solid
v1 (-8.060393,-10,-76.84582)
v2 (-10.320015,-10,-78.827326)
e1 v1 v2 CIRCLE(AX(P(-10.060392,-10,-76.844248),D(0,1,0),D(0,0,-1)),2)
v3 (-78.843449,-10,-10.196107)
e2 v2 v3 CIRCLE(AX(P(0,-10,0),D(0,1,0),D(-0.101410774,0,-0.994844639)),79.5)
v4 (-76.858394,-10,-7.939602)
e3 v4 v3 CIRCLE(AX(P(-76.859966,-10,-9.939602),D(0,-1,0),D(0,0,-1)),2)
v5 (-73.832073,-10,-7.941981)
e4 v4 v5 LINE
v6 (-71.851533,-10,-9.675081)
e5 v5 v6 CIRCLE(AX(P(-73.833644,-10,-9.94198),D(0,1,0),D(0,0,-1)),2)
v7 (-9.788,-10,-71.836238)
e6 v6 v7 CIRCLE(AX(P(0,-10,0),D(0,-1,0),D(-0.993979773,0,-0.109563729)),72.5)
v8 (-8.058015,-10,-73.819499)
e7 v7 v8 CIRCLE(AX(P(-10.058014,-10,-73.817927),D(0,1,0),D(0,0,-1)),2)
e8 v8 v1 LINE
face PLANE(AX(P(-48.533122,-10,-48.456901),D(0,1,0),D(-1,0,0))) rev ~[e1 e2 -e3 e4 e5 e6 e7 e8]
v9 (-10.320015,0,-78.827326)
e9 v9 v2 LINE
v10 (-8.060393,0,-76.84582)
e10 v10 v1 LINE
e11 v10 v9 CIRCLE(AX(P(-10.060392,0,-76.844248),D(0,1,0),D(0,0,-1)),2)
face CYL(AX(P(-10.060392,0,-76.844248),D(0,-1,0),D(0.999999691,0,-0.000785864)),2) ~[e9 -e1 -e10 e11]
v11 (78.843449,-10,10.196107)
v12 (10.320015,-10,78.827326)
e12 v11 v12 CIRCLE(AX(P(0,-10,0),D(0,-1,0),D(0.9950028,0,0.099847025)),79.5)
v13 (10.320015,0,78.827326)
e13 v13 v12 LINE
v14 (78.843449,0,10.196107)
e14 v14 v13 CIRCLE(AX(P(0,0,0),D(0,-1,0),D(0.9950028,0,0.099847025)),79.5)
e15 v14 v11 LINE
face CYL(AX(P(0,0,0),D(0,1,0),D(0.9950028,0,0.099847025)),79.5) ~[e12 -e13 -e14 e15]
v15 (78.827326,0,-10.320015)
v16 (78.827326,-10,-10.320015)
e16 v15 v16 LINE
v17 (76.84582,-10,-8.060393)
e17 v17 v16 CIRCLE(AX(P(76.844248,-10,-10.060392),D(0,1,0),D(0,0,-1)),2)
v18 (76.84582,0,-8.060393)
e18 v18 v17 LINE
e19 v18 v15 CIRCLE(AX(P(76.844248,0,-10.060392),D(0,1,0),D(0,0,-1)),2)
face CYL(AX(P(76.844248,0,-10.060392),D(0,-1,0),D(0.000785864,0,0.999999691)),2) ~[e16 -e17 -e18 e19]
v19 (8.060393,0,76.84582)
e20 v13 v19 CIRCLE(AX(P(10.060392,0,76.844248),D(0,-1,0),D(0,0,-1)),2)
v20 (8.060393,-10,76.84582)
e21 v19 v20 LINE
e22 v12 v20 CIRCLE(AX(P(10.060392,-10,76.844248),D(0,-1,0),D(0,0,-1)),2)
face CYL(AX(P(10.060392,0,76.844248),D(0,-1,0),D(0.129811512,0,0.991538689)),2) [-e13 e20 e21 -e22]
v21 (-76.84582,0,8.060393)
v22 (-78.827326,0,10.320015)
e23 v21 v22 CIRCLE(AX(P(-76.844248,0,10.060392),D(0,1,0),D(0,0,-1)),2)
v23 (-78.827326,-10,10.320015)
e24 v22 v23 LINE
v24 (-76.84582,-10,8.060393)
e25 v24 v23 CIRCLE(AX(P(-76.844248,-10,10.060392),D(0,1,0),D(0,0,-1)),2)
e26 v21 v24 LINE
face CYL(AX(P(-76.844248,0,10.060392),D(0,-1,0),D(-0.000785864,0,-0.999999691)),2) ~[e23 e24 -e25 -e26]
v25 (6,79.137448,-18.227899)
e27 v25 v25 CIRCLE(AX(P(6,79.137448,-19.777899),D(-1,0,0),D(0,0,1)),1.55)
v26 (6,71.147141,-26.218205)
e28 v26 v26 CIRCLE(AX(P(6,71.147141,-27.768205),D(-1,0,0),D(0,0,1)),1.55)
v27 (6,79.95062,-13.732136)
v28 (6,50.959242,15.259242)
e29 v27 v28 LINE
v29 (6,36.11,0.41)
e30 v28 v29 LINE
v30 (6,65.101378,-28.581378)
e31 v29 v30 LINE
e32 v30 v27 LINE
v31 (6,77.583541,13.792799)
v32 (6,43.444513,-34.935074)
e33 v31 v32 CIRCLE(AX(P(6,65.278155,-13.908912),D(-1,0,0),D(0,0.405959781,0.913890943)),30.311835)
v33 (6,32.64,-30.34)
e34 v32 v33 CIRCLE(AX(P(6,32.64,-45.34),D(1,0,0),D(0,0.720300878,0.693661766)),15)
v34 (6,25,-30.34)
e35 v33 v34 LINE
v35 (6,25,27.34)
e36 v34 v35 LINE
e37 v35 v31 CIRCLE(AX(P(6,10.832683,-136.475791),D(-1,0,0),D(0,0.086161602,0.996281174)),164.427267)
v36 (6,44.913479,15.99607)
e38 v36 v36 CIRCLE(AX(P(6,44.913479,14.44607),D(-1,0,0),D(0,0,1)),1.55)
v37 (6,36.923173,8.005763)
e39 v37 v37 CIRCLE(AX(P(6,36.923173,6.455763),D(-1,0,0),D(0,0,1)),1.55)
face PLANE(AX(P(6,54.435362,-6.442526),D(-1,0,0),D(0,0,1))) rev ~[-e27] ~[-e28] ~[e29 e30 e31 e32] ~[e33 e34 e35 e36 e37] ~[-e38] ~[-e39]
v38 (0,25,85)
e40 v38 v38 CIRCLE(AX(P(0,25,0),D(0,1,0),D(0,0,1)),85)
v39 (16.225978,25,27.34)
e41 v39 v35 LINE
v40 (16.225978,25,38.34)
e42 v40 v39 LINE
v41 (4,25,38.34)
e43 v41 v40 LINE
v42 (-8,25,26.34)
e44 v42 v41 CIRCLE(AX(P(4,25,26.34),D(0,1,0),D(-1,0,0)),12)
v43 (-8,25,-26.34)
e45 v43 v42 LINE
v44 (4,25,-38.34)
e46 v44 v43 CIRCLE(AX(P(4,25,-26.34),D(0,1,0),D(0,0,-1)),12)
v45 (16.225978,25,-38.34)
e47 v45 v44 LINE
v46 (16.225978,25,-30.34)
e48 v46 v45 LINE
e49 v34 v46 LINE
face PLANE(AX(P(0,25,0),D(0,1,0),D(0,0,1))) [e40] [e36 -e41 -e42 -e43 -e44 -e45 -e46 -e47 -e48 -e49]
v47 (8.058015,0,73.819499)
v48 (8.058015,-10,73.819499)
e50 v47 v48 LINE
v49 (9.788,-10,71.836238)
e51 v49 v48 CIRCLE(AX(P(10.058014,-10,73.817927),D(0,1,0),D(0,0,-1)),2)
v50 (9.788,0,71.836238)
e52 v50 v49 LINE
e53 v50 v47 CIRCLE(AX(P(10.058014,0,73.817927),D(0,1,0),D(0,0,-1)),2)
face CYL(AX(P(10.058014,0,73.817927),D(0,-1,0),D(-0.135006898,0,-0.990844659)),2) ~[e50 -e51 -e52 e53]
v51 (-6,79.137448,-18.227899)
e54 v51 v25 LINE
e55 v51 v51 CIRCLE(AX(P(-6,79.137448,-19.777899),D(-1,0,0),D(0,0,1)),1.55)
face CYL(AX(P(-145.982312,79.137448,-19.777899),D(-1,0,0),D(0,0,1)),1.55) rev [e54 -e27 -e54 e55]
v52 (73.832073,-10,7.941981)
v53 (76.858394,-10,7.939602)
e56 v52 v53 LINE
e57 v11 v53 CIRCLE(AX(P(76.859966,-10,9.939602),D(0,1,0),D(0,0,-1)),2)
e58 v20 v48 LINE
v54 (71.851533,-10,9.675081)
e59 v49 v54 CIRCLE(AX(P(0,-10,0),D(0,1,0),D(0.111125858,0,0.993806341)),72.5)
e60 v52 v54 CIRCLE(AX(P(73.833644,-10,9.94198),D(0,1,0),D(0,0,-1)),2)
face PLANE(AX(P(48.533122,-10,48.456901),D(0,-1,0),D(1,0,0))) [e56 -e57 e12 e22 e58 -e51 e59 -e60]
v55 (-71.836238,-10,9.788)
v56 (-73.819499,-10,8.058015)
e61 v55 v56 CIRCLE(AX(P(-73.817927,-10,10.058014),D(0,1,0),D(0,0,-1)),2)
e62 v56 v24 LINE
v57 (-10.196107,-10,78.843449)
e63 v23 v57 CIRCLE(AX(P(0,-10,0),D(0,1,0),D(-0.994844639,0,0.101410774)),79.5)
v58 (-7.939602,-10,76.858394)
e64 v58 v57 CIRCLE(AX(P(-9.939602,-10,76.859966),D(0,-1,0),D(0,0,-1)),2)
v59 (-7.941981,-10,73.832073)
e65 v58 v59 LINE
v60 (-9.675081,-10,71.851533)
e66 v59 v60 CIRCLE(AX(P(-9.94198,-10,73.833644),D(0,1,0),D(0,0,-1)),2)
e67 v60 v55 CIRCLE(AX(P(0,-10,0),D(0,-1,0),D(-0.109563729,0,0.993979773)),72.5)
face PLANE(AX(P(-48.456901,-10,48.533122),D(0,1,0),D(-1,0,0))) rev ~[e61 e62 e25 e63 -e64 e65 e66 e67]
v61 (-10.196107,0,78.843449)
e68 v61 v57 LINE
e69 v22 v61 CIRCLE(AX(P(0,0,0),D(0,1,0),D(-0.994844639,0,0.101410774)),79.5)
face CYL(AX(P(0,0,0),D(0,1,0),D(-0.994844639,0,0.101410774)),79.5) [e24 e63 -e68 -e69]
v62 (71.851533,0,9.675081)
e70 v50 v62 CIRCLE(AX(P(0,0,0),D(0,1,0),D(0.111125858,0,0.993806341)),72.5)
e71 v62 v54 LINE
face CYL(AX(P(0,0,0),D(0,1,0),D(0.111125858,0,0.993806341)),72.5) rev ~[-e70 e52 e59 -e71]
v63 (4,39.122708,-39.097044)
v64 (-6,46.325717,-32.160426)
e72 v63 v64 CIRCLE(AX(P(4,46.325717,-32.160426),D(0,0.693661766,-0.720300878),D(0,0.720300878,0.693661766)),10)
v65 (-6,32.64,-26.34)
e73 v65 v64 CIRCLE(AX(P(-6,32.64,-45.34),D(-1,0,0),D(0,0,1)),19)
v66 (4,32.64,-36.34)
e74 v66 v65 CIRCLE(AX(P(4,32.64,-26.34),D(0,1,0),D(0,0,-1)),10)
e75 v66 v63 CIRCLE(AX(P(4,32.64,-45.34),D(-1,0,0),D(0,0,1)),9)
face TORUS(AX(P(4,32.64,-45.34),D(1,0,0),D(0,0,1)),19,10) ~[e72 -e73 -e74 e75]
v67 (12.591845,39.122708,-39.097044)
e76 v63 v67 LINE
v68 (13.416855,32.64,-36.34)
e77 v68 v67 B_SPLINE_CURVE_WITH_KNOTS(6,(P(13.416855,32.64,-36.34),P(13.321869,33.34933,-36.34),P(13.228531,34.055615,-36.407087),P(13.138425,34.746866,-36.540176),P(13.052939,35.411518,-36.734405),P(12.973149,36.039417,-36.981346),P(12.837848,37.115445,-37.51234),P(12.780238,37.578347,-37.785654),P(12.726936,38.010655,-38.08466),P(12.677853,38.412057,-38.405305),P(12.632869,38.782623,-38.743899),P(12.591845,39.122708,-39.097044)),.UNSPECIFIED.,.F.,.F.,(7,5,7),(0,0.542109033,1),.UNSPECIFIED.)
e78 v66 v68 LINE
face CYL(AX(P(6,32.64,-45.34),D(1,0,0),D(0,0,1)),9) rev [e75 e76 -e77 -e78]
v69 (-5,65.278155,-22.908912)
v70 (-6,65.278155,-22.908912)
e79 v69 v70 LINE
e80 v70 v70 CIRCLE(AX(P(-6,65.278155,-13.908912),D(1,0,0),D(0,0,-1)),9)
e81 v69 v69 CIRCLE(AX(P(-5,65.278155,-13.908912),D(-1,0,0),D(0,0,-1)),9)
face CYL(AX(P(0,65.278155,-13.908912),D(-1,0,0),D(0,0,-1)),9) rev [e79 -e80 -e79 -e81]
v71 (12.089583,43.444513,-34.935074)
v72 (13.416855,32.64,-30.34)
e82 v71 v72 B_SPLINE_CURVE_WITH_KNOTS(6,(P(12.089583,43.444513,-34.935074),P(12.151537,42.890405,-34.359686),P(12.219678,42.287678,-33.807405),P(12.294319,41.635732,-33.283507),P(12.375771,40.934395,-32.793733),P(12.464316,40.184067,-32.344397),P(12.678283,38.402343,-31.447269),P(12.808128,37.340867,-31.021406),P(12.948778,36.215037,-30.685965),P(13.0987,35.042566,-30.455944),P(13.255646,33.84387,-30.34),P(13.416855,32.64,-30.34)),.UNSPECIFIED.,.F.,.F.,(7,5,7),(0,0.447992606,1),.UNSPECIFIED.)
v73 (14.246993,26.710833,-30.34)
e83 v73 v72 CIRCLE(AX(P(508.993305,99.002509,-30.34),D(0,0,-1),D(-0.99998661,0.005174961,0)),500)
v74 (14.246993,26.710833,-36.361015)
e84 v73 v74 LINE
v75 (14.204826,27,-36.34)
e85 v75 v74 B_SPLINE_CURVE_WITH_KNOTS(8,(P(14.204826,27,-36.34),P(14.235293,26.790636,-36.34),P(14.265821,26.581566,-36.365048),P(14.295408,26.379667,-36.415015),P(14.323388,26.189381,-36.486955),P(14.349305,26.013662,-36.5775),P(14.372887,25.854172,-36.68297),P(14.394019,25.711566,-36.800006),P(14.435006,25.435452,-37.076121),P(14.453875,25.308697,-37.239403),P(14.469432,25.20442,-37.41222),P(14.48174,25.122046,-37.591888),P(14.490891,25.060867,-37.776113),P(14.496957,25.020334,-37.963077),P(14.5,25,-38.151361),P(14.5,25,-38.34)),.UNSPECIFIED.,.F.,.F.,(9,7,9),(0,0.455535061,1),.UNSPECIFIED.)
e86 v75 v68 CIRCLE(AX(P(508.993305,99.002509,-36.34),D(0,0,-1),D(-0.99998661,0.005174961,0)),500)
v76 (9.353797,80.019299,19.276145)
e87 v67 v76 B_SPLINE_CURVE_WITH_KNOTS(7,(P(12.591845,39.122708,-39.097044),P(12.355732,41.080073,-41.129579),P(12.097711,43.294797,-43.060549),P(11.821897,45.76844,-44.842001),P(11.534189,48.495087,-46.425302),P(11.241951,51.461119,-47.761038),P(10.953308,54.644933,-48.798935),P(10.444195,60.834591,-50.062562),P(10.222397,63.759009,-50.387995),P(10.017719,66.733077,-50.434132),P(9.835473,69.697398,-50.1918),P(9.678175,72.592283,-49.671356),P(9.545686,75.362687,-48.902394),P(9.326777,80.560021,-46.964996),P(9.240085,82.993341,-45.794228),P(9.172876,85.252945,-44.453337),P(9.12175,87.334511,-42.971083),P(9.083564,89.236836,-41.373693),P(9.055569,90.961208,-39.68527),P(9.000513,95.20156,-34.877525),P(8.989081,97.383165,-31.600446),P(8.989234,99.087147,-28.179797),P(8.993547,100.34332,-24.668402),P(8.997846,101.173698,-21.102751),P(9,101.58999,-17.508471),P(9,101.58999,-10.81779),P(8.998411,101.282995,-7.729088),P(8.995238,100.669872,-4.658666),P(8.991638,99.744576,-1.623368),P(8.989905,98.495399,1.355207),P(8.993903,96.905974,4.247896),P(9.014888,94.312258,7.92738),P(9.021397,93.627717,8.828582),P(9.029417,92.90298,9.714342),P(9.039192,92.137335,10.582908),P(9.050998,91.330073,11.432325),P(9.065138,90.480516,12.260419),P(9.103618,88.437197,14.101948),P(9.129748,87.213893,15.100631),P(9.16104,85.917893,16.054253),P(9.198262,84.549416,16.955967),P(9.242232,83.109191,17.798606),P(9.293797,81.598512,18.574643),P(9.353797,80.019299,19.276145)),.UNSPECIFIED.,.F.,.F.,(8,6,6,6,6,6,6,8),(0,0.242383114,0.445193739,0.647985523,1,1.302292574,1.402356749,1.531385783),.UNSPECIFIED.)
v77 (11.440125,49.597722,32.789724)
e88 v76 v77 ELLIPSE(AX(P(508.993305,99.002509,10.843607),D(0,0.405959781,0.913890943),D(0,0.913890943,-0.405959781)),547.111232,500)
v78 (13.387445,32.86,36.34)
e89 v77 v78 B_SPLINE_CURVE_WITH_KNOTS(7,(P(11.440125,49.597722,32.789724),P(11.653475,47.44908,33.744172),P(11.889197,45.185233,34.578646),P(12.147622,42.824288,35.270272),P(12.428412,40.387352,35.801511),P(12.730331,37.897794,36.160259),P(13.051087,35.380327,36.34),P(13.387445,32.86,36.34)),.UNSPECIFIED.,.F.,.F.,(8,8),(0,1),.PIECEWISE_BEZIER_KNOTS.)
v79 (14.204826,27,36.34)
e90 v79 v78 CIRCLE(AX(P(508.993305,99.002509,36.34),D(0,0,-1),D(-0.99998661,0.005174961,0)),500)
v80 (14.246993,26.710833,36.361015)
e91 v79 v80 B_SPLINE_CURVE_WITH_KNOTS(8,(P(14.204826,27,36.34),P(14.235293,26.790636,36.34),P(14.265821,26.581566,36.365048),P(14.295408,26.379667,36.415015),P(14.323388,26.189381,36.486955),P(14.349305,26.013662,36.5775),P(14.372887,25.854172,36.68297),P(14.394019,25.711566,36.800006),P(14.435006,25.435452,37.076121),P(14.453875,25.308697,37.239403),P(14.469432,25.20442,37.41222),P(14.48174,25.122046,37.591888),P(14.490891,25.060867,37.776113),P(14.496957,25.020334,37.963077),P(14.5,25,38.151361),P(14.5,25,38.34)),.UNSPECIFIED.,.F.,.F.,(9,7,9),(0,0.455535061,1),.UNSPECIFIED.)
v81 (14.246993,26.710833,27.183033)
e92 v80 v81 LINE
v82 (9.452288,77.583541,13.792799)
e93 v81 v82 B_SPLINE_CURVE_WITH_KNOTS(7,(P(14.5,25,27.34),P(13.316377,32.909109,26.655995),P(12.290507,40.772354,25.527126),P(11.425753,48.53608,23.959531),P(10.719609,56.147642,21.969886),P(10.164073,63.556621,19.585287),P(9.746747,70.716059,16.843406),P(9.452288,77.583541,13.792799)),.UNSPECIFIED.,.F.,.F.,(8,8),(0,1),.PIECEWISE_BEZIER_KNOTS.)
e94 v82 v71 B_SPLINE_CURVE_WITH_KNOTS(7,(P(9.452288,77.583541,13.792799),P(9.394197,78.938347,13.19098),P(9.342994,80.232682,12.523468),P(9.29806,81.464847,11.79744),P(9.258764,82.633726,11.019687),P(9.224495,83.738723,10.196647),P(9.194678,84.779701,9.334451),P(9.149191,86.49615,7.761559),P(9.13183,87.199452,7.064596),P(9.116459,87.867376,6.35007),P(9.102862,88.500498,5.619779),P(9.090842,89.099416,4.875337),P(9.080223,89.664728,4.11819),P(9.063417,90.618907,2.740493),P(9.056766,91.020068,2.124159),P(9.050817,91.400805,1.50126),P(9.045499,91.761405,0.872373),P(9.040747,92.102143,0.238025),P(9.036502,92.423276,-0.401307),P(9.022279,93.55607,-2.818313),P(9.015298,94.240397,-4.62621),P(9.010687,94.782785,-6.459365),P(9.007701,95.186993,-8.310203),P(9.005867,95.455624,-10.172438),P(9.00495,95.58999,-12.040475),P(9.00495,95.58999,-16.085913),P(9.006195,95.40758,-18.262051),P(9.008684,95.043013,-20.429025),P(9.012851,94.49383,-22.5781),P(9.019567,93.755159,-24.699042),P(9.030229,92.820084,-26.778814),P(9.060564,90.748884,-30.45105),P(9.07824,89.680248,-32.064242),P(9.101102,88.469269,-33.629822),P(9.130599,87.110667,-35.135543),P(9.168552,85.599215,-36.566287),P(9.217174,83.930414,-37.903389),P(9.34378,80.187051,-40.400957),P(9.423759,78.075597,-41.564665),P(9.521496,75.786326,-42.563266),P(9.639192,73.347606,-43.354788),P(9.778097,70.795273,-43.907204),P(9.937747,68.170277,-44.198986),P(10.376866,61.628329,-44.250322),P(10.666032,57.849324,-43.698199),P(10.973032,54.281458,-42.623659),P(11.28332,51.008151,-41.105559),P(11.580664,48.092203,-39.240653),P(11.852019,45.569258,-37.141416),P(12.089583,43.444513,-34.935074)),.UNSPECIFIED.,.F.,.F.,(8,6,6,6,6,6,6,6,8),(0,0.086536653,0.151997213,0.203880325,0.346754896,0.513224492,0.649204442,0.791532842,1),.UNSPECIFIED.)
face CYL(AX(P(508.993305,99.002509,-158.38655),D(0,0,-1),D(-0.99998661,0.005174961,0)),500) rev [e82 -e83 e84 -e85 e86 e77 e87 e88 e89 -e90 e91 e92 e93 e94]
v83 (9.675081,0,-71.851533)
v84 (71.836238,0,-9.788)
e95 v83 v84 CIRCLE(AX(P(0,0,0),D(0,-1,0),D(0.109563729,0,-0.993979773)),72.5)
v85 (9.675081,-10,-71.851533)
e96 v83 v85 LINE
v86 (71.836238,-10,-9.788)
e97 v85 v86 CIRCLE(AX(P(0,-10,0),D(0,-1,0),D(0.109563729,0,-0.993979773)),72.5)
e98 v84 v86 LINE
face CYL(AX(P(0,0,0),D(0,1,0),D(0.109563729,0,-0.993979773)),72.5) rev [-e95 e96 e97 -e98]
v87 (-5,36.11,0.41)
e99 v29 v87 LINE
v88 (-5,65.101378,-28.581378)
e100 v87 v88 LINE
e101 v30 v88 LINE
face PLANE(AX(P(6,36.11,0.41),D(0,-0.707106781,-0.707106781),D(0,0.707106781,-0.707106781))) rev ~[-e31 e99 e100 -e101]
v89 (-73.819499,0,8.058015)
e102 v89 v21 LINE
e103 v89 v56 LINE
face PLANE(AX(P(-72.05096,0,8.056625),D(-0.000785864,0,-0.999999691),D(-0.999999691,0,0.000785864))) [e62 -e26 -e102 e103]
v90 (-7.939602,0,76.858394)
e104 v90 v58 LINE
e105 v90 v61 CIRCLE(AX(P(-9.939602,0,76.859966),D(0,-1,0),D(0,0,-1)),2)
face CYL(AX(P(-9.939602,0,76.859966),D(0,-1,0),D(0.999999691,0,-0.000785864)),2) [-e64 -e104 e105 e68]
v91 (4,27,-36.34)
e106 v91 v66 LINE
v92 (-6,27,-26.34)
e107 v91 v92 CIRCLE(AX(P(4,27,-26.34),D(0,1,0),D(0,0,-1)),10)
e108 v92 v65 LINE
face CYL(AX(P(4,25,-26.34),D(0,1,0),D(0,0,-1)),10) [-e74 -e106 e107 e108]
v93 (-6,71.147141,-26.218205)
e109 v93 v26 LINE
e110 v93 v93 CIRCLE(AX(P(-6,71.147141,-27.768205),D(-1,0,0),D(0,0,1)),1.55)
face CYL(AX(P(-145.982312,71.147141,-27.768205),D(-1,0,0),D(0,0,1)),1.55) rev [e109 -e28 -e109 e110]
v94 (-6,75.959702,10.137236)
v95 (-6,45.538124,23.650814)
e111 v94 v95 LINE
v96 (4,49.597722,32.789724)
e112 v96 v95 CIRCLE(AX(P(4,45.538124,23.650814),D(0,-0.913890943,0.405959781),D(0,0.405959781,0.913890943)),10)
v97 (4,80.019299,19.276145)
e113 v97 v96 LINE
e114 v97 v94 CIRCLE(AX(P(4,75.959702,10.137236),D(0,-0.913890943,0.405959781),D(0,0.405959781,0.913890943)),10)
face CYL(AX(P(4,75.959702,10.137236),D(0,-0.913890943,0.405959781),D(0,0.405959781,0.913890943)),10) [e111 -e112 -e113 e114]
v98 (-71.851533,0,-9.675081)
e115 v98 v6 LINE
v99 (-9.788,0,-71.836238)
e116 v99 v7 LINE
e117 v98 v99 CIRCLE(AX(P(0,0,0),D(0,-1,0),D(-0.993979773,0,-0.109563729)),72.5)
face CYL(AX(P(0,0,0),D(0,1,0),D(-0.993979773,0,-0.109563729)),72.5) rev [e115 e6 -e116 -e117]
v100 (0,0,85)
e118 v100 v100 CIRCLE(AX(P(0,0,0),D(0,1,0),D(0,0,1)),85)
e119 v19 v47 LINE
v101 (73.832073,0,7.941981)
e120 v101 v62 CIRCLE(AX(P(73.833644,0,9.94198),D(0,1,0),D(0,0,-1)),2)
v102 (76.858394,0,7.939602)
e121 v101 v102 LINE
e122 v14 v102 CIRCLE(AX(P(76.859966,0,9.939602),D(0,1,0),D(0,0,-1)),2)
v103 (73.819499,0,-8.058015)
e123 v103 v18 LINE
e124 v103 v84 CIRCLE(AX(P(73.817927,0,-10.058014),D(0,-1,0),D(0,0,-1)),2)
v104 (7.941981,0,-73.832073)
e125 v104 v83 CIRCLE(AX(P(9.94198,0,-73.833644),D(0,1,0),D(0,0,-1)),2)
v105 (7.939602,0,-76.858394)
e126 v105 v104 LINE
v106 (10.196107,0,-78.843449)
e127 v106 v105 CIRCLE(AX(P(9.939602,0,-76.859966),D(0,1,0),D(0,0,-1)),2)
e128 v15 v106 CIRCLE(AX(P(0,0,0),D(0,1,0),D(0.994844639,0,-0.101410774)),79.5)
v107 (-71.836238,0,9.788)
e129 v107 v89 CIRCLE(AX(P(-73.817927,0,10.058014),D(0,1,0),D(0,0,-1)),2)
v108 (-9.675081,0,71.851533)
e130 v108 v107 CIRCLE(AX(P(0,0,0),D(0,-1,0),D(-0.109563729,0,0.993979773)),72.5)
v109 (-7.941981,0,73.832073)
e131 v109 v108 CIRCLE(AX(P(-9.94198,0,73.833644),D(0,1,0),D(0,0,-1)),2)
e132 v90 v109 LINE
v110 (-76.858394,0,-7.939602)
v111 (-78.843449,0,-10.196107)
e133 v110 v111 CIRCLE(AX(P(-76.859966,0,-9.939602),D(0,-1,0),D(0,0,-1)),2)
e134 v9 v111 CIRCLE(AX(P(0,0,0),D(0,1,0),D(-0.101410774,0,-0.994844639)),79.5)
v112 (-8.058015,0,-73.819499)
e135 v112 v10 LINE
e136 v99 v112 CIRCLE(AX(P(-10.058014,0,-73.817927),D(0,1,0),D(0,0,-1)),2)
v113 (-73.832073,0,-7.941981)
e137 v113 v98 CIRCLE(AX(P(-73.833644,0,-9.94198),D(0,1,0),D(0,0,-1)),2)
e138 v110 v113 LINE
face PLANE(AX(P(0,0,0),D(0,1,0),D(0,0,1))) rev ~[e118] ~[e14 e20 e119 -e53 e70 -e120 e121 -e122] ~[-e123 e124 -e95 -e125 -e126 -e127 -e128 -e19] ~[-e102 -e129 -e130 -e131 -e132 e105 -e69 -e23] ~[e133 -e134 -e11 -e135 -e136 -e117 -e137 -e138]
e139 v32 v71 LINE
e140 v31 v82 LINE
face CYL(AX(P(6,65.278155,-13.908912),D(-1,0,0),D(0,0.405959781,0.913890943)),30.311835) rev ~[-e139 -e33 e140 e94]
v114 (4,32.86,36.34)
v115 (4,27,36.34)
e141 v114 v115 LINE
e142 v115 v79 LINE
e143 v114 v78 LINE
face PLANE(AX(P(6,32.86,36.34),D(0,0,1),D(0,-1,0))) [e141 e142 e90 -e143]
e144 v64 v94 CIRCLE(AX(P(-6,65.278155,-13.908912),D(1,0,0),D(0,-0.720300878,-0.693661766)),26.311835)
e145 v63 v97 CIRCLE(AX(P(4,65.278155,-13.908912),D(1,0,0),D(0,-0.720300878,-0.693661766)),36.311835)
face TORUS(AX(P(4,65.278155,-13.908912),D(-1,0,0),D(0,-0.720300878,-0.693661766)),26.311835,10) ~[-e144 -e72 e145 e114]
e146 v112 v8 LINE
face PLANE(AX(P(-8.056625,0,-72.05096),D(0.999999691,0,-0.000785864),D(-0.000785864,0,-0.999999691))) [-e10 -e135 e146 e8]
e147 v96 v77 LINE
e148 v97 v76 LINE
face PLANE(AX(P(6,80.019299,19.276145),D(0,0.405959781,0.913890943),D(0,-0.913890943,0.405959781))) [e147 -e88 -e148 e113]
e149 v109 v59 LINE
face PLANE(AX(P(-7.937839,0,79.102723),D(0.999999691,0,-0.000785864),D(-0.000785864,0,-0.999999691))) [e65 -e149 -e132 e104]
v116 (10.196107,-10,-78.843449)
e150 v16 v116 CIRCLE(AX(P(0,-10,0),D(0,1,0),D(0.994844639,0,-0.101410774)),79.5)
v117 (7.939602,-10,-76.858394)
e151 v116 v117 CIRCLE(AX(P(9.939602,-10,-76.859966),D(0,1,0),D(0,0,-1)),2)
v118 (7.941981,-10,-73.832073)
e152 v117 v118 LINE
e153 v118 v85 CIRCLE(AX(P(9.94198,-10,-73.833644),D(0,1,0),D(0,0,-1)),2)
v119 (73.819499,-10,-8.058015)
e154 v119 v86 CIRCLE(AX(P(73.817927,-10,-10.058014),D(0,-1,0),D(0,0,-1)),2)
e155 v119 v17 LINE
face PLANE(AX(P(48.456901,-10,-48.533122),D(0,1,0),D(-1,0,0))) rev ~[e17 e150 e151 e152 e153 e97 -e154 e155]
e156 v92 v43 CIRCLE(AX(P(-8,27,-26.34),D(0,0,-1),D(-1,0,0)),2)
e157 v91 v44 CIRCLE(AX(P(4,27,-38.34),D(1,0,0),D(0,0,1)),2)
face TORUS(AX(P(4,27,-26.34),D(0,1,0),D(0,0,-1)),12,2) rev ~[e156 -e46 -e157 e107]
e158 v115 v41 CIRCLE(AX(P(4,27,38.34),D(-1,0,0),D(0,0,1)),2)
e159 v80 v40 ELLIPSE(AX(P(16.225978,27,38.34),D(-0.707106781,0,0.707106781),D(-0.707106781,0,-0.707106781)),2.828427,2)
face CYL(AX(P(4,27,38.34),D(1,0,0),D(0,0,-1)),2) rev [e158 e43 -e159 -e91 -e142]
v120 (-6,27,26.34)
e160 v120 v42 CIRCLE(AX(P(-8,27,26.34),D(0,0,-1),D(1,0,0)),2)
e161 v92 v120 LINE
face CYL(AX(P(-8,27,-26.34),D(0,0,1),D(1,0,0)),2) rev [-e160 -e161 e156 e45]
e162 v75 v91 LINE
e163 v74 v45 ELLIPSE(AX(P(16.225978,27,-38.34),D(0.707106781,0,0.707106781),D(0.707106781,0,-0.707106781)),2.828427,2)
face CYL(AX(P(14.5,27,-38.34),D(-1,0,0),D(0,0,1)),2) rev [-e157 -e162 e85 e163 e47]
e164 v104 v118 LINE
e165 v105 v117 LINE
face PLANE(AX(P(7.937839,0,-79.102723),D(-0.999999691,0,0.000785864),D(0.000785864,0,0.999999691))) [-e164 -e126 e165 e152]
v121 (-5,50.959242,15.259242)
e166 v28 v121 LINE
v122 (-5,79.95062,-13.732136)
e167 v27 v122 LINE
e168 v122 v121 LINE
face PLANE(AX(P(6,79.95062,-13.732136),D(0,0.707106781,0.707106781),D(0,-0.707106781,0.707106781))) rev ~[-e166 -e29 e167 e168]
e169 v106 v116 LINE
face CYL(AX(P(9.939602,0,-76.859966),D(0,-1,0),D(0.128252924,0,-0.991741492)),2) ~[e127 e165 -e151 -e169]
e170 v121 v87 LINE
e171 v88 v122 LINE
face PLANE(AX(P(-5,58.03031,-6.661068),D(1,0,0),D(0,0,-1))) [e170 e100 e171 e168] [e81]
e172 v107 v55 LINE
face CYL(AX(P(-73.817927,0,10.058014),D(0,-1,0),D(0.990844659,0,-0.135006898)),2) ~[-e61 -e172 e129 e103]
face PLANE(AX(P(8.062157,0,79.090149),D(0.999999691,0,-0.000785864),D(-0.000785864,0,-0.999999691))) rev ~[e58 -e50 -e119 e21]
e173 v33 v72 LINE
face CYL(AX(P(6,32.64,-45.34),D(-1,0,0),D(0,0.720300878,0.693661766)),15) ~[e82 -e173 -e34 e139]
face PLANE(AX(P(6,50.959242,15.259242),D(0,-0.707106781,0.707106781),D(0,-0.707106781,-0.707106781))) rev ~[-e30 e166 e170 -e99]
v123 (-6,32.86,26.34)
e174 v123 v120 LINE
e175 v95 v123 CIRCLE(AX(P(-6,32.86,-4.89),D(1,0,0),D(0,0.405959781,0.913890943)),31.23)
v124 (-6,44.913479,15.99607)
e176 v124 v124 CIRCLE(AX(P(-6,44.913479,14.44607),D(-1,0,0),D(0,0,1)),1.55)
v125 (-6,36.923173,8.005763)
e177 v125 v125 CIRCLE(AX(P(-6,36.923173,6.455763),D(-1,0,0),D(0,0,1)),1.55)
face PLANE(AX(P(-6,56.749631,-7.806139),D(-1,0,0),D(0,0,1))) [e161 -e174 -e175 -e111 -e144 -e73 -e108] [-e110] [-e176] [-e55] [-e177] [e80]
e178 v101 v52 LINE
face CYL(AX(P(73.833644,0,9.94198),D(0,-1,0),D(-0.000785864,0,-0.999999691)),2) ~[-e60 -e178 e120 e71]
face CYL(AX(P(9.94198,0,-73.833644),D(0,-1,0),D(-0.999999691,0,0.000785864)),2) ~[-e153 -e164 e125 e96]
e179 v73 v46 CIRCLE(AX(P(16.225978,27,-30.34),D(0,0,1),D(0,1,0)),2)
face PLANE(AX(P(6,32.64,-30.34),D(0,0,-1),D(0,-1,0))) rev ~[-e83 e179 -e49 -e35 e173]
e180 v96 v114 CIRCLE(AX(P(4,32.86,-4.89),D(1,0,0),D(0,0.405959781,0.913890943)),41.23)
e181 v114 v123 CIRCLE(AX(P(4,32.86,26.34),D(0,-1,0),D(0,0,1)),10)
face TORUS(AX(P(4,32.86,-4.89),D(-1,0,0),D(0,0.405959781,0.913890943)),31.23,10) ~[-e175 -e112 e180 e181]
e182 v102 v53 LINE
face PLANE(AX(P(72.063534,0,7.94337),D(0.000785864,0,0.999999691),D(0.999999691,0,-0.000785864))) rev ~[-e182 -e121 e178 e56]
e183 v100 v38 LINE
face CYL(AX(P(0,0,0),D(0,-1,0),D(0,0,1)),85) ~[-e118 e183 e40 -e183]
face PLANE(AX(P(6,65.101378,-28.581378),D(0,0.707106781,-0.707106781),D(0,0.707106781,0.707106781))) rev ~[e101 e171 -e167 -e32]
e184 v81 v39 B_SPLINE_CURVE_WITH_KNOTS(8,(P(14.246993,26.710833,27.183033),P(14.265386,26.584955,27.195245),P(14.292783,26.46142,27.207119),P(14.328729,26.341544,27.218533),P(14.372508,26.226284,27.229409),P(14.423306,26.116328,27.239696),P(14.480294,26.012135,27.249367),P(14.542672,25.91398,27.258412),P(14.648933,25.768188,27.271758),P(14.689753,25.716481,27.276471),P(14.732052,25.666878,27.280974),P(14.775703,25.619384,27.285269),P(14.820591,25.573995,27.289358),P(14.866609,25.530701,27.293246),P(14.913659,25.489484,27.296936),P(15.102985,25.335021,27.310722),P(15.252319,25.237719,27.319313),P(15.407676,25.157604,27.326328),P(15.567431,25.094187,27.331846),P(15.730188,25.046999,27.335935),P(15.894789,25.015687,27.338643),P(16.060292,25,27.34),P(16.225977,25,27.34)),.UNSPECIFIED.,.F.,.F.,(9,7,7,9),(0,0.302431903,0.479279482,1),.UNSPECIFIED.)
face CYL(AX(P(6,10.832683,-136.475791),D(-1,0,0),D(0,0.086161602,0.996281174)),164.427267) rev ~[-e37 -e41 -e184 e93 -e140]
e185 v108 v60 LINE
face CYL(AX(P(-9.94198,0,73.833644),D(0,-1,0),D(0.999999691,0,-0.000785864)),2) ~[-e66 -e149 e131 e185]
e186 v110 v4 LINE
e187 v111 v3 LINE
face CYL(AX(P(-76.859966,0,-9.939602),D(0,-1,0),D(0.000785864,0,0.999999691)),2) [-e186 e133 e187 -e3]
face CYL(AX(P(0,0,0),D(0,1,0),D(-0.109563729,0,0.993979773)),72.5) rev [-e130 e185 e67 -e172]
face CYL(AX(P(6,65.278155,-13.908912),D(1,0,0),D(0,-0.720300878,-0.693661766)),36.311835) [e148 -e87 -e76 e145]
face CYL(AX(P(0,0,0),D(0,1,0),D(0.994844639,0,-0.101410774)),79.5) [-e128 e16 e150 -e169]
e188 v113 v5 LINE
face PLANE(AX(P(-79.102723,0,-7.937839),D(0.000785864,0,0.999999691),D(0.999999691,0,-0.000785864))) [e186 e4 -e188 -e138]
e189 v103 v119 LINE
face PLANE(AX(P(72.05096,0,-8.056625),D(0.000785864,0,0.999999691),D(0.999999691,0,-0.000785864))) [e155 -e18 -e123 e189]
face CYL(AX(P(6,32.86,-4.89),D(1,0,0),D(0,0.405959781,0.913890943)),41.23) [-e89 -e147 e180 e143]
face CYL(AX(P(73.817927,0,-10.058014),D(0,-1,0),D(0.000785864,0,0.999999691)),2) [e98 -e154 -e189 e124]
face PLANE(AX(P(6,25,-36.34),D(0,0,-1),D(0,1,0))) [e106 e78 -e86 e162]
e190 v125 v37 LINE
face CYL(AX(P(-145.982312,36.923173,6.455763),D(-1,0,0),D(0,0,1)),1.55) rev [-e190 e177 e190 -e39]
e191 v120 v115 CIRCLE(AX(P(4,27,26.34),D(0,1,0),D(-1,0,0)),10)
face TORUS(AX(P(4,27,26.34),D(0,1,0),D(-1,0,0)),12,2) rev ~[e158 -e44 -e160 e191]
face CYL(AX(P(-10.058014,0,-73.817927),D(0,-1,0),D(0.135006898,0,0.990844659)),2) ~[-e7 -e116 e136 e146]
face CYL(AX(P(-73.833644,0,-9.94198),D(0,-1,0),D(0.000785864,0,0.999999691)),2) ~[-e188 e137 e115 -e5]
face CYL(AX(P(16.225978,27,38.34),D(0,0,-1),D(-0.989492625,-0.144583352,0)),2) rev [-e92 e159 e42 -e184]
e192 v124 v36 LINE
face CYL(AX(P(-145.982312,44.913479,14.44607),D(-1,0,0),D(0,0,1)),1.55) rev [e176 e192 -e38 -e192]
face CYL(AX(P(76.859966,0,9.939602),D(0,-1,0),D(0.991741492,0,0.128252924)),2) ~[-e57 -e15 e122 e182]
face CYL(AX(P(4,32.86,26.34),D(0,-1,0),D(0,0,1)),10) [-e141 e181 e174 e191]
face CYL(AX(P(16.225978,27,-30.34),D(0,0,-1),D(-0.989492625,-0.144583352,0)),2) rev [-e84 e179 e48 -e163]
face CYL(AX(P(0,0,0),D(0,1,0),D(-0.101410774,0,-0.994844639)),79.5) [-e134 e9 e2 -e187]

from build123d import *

# Parameters (mm, degrees)
SKETCH1_R                       = 85
BOSS_EXTRUDE1_DEPTH             = 25
BOSS_EXTRUDE2_DEPTH             = 10
FILLET1_R                       = 2
SKETCH3_R                       = 9
BOSS_EXTRUDE3_DEPTH             = 6
CUT_EXTRUDE1_DEPTH              = 151.982311708
CUT_EXTRUDE1_DEPTH_BACK         = 157.982311708
CUT_EXTRUDE1_START              = 6
SKETCH4_R                       = 1.55
BOSS_EXTRUDE5_DEPTH             = 9
BOSS_EXTRUDE5_DIRECTION_2_REACH = 158.982
CUT_EXTRUDE9_DEPTH              = 158.386549836
CUT_EXTRUDE9_DEPTH_BACK         = 158.386549836
FILLET3_R                       = 10
FILLET4_R                       = 2
FILLET5_R                       = 2
CUT_EXTRUDE11_DEPTH             = 11


with BuildPart() as part:
    # Sketch1 → Boss-Extrude1 (new body)
    with BuildSketch(Plane(origin=(0, 0, 0), x_dir=(1, 0, 0), z_dir=(0, 1, 0))):
        with Locations(Location((0, 0, 0), (0, 0, 270))):
            Circle(SKETCH1_R)
    extrude(amount=BOSS_EXTRUDE1_DEPTH)

    # Sketch2 → Boss-Extrude2 (add)
    with BuildSketch(Plane.XZ):
        with BuildLine():
            Line((-7.937838503, 79.102722582), (-7.943370347, 72.063533549))
            ThreePointArc((-7.943370347, 72.063533549), (-51.22493832, 51.305513292), (-72.050959732, 8.056624713))
            Line((-72.050959732, 8.056624713), (-79.090148765, 8.062156557))
            ThreePointArc((-79.090148765, 8.062156557), (-56.170794433, 56.259149058), (-7.937838503, 79.102722582))
        make_face()
        with BuildLine():
            Line((-79.102722582, -7.937838503), (-72.063533549, -7.943370347))
            ThreePointArc((-72.063533549, -7.943370347), (-51.305513292, -51.22493832), (-8.056624713, -72.050959732))
            Line((-8.056624713, -72.050959732), (-8.062156557, -79.090148765))
            ThreePointArc((-8.062156557, -79.090148765), (-56.259149058, -56.170794433), (-79.102722582, -7.937838503))
        make_face()
        with BuildLine():
            Line((8.062156557, 79.090148765), (8.056624713, 72.050959732))
            ThreePointArc((8.056624713, 72.050959732), (51.305513292, 51.22493832), (72.063533549, 7.943370347))
            Line((72.063533549, 7.943370347), (79.102722582, 7.937838503))
            ThreePointArc((79.102722582, 7.937838503), (56.259149058, 56.170794433), (8.062156557, 79.090148765))
        make_face()
        with BuildLine():
            Line((72.050959732, -8.056624713), (79.090148765, -8.062156557))
            ThreePointArc((79.090148765, -8.062156557), (56.170794433, -56.259149058), (7.937838503, -79.102722582))
            Line((7.937838503, -79.102722582), (7.943370347, -72.063533549))
            ThreePointArc((7.943370347, -72.063533549), (51.22493832, -51.305513292), (72.050959732, -8.056624713))
        make_face()
    extrude(amount=BOSS_EXTRUDE2_DEPTH)

    # Fillet1
    fillet1_edges = [part.edges().sort_by_distance(p)[0] for p in [
        (79.102722582, -5, 7.937838503),
        (8.062156557, -5, 79.090148765),
        (8.056624713, -5, 72.050959732),
        (72.063533549, -5, 7.943370347),
        (7.937838503, -5, -79.102722582),
        (79.090148765, -5, -8.062156557),
        (72.050959732, -5, -8.056624713),
        (7.943370347, -5, -72.063533549),
        (-79.102722582, -5, -7.937838503),
        (-8.062156557, -5, -79.090148765),
        (-8.056624713, -5, -72.050959732),
        (-72.063533549, -5, -7.943370347),
        (-7.937838503, -5, 79.102722582),
        (-79.090148765, -5, 8.062156557),
        (-72.050959732, -5, 8.056624713),
        (-7.943370347, -5, 72.063533549),
    ]]
    fillet(fillet1_edges, radius=FILLET1_R)

    # Sketch3 → Boss-Extrude3 (add, symmetric)
    with BuildSketch(Plane(origin=(0, 0, 0), x_dir=(0, 0, -1), z_dir=(1, 0, 0))):
        with BuildLine():
            Line((30.34, 25), (-30.34, 25))
            Line((-30.34, 25), (-30.34, 32.86))
            ThreePointArc((-30.34, 32.86), (-29.573250676, 40.170078852), (-27.306377926, 47.161963097))
            Line((-27.306377926, 47.161963097), (-13.792799414, 77.583540747))
            ThreePointArc((-13.792799414, 77.583540747), (31.301699468, 90.103510982), (34.93507351, 43.444513166))
            ThreePointArc((34.93507351, 43.444513166), (31.536487814, 38.51052394), (30.34, 32.64))
            Line((30.34, 32.64), (30.34, 25))
        make_face()
        with Locations((13.908912319, 65.278154724)):
            Circle(SKETCH3_R, mode=Mode.SUBTRACT)
    extrude(amount=BOSS_EXTRUDE3_DEPTH, both=True)

    # Sketch4 → Cut-Extrude1 (cut, two sides: drawn at the far end of the back side and taken through both)
    with BuildSketch(Plane(origin=(6, 0, 0), x_dir=(0, 0, -1), z_dir=(1, 0, 0)).offset(CUT_EXTRUDE1_START - CUT_EXTRUDE1_DEPTH_BACK)):
        with Locations(Location((27.76820523, 71.147141008, 0), (0, 0, 180))):
            Circle(SKETCH4_R)
        with Locations(Location((19.777898603, 79.137447635, 0), (0, 0, 180))):
            Circle(SKETCH4_R)
        with Locations(Location((-6.455762979, 36.923172798, 0), (0, 0, 180))):
            Circle(SKETCH4_R)
        with Locations(Location((-14.446069607, 44.913479426, 0), (0, 0, 180))):
            Circle(SKETCH4_R)
    extrude(amount=CUT_EXTRUDE1_DEPTH + CUT_EXTRUDE1_DEPTH_BACK, mode=Mode.SUBTRACT)

    # Sketch7 → Boss-Extrude5 (add)
    with BuildSketch(Plane(origin=(6, 0, 0), x_dir=(0, 0, -1), z_dir=(1, 0, 0))):
        with BuildLine():
            Line((36.34, 25), (36.34, 32.64))
            ThreePointArc((36.34, 32.64), (37.057892688, 36.162314364), (39.097044106, 39.122707899))
            ThreePointArc((39.097044106, 39.122707899), (34.744470977, 95.01750369), (-19.276145073, 80.019299435))
            Line((-19.276145073, 80.019299435), (-32.789723585, 49.597721785))
            ThreePointArc((-32.789723585, 49.597721785), (-35.442666062, 41.415053962), (-36.34, 32.86))
            Line((-36.34, 32.86), (-36.34, 25))
            Line((-36.34, 25), (-27.34, 25))
            ThreePointArc((-27.34, 25), (-22.752054714, 51.854864954), (-13.792799414, 77.583540747))
            ThreePointArc((-13.792799414, 77.583540747), (31.301699468, 90.103510982), (34.93507351, 43.444513166))
            ThreePointArc((34.93507351, 43.444513166), (31.536487814, 38.51052394), (30.34, 32.64))
            Line((30.34, 32.64), (30.34, 25))
            Line((30.34, 25), (36.34, 25))
        make_face()
    extrude(amount=BOSS_EXTRUDE5_DEPTH)

    # Boss-Extrude5 direction 2: up to this face of the body (flat: up to its plane)
    boss_extrude5_direction_2_end = Plane(part.part.faces().sort_by_distance((-6, 56.749631144, -7.806138982))[0])
    # Sketch7 → Boss-Extrude5 direction 2 (add, up to the picked face)
    with BuildSketch(Plane(origin=(6, 0, 0), x_dir=(0, 0, -1), z_dir=(1, 0, 0)), mode=Mode.PRIVATE) as boss_extrude5_direction_2_sk1:
        with BuildLine():
            Line((36.34, 25), (36.34, 32.64))
            ThreePointArc((36.34, 32.64), (37.057892688, 36.162314364), (39.097044106, 39.122707899))
            ThreePointArc((39.097044106, 39.122707899), (34.744470977, 95.01750369), (-19.276145073, 80.019299435))
            Line((-19.276145073, 80.019299435), (-32.789723585, 49.597721785))
            ThreePointArc((-32.789723585, 49.597721785), (-35.442666062, 41.415053962), (-36.34, 32.86))
            Line((-36.34, 32.86), (-36.34, 25))
            Line((-36.34, 25), (-27.34, 25))
            ThreePointArc((-27.34, 25), (-22.752054714, 51.854864954), (-13.792799414, 77.583540747))
            ThreePointArc((-13.792799414, 77.583540747), (31.301699468, 90.103510982), (34.93507351, 43.444513166))
            ThreePointArc((34.93507351, 43.444513166), (31.536487814, 38.51052394), (30.34, 32.64))
            Line((30.34, 32.64), (30.34, 25))
            Line((30.34, 25), (36.34, 25))
        make_face()
    boss_extrude5_direction_2_tool1 = split(extrude(boss_extrude5_direction_2_sk1.sketch, amount=-BOSS_EXTRUDE5_DIRECTION_2_REACH, mode=Mode.PRIVATE), bisect_by=boss_extrude5_direction_2_end, keep=Keep.BOTH, mode=Mode.PRIVATE)
    add(boss_extrude5_direction_2_tool1.solids().sort_by(Axis((6, 91.050112, -31.964893), (-1, 0, 0)))[0])

    # Sketch8 → Cut-Extrude9 (cut, two sides: drawn at the far end of the back side and taken through both)
    with BuildSketch(Plane.XY.offset(-CUT_EXTRUDE9_DEPTH_BACK)):
        with BuildLine():
            Line((15, 101.589990006), (9, 101.589990006))
            ThreePointArc((9, 101.589990006), (10.277543258, 63.189256484), (14.5, 25))
            Line((14.5, 25), (15, 25))
            Line((15, 25), (15, 101.589990006))
        make_face()
    extrude(amount=CUT_EXTRUDE9_DEPTH + CUT_EXTRUDE9_DEPTH_BACK, mode=Mode.SUBTRACT)

    # Fillet3
    fillet3_edges = [part.edges().sort_by_distance(p)[0] for p in [
        (-6, 28.82, -36.34),
        (-6, 36.162314364, -37.057892688),
        (-6, 95.01750369, -34.744470977),
        (-6, 64.80851061, 26.032934329),
        (-6, 41.415053962, 35.442666062),
        (-6, 28.93, 36.34),
    ]]
    fillet(fillet3_edges, radius=FILLET3_R)

    # Fillet4
    fillet4_edges = [part.edges().sort_by_distance(p)[0] for p in [
        (9.25, 25, -36.34),
        (-6, 25, 0),
        (9.25, 25, 36.34),
        (-3.071067812, 25, -33.411067812),
        (-3.071067812, 25, 33.411067812),
    ]]
    fillet(fillet4_edges, radius=FILLET4_R)

    # Fillet5
    fillet5_edges = [part.edges().sort_by_distance(p)[0] for p in [
        (14.5, 25, -34.34),
        (14.5, 25, 32.84),
    ]]
    fillet(fillet5_edges, radius=FILLET5_R)

    # Sketch4<3> → Cut-Extrude11 (cut)
    with BuildSketch(Plane(origin=(6, 0, 0), x_dir=(0, 0, -1), z_dir=(1, 0, 0))):
        Polygon((-0.41, 36.11), (28.581378029, 65.101378029), (13.732135624, 79.950620434), (-15.259242405, 50.959242405), align=None)
    extrude(amount=-CUT_EXTRUDE11_DEPTH, mode=Mode.SUBTRACT)


solid = part.part
